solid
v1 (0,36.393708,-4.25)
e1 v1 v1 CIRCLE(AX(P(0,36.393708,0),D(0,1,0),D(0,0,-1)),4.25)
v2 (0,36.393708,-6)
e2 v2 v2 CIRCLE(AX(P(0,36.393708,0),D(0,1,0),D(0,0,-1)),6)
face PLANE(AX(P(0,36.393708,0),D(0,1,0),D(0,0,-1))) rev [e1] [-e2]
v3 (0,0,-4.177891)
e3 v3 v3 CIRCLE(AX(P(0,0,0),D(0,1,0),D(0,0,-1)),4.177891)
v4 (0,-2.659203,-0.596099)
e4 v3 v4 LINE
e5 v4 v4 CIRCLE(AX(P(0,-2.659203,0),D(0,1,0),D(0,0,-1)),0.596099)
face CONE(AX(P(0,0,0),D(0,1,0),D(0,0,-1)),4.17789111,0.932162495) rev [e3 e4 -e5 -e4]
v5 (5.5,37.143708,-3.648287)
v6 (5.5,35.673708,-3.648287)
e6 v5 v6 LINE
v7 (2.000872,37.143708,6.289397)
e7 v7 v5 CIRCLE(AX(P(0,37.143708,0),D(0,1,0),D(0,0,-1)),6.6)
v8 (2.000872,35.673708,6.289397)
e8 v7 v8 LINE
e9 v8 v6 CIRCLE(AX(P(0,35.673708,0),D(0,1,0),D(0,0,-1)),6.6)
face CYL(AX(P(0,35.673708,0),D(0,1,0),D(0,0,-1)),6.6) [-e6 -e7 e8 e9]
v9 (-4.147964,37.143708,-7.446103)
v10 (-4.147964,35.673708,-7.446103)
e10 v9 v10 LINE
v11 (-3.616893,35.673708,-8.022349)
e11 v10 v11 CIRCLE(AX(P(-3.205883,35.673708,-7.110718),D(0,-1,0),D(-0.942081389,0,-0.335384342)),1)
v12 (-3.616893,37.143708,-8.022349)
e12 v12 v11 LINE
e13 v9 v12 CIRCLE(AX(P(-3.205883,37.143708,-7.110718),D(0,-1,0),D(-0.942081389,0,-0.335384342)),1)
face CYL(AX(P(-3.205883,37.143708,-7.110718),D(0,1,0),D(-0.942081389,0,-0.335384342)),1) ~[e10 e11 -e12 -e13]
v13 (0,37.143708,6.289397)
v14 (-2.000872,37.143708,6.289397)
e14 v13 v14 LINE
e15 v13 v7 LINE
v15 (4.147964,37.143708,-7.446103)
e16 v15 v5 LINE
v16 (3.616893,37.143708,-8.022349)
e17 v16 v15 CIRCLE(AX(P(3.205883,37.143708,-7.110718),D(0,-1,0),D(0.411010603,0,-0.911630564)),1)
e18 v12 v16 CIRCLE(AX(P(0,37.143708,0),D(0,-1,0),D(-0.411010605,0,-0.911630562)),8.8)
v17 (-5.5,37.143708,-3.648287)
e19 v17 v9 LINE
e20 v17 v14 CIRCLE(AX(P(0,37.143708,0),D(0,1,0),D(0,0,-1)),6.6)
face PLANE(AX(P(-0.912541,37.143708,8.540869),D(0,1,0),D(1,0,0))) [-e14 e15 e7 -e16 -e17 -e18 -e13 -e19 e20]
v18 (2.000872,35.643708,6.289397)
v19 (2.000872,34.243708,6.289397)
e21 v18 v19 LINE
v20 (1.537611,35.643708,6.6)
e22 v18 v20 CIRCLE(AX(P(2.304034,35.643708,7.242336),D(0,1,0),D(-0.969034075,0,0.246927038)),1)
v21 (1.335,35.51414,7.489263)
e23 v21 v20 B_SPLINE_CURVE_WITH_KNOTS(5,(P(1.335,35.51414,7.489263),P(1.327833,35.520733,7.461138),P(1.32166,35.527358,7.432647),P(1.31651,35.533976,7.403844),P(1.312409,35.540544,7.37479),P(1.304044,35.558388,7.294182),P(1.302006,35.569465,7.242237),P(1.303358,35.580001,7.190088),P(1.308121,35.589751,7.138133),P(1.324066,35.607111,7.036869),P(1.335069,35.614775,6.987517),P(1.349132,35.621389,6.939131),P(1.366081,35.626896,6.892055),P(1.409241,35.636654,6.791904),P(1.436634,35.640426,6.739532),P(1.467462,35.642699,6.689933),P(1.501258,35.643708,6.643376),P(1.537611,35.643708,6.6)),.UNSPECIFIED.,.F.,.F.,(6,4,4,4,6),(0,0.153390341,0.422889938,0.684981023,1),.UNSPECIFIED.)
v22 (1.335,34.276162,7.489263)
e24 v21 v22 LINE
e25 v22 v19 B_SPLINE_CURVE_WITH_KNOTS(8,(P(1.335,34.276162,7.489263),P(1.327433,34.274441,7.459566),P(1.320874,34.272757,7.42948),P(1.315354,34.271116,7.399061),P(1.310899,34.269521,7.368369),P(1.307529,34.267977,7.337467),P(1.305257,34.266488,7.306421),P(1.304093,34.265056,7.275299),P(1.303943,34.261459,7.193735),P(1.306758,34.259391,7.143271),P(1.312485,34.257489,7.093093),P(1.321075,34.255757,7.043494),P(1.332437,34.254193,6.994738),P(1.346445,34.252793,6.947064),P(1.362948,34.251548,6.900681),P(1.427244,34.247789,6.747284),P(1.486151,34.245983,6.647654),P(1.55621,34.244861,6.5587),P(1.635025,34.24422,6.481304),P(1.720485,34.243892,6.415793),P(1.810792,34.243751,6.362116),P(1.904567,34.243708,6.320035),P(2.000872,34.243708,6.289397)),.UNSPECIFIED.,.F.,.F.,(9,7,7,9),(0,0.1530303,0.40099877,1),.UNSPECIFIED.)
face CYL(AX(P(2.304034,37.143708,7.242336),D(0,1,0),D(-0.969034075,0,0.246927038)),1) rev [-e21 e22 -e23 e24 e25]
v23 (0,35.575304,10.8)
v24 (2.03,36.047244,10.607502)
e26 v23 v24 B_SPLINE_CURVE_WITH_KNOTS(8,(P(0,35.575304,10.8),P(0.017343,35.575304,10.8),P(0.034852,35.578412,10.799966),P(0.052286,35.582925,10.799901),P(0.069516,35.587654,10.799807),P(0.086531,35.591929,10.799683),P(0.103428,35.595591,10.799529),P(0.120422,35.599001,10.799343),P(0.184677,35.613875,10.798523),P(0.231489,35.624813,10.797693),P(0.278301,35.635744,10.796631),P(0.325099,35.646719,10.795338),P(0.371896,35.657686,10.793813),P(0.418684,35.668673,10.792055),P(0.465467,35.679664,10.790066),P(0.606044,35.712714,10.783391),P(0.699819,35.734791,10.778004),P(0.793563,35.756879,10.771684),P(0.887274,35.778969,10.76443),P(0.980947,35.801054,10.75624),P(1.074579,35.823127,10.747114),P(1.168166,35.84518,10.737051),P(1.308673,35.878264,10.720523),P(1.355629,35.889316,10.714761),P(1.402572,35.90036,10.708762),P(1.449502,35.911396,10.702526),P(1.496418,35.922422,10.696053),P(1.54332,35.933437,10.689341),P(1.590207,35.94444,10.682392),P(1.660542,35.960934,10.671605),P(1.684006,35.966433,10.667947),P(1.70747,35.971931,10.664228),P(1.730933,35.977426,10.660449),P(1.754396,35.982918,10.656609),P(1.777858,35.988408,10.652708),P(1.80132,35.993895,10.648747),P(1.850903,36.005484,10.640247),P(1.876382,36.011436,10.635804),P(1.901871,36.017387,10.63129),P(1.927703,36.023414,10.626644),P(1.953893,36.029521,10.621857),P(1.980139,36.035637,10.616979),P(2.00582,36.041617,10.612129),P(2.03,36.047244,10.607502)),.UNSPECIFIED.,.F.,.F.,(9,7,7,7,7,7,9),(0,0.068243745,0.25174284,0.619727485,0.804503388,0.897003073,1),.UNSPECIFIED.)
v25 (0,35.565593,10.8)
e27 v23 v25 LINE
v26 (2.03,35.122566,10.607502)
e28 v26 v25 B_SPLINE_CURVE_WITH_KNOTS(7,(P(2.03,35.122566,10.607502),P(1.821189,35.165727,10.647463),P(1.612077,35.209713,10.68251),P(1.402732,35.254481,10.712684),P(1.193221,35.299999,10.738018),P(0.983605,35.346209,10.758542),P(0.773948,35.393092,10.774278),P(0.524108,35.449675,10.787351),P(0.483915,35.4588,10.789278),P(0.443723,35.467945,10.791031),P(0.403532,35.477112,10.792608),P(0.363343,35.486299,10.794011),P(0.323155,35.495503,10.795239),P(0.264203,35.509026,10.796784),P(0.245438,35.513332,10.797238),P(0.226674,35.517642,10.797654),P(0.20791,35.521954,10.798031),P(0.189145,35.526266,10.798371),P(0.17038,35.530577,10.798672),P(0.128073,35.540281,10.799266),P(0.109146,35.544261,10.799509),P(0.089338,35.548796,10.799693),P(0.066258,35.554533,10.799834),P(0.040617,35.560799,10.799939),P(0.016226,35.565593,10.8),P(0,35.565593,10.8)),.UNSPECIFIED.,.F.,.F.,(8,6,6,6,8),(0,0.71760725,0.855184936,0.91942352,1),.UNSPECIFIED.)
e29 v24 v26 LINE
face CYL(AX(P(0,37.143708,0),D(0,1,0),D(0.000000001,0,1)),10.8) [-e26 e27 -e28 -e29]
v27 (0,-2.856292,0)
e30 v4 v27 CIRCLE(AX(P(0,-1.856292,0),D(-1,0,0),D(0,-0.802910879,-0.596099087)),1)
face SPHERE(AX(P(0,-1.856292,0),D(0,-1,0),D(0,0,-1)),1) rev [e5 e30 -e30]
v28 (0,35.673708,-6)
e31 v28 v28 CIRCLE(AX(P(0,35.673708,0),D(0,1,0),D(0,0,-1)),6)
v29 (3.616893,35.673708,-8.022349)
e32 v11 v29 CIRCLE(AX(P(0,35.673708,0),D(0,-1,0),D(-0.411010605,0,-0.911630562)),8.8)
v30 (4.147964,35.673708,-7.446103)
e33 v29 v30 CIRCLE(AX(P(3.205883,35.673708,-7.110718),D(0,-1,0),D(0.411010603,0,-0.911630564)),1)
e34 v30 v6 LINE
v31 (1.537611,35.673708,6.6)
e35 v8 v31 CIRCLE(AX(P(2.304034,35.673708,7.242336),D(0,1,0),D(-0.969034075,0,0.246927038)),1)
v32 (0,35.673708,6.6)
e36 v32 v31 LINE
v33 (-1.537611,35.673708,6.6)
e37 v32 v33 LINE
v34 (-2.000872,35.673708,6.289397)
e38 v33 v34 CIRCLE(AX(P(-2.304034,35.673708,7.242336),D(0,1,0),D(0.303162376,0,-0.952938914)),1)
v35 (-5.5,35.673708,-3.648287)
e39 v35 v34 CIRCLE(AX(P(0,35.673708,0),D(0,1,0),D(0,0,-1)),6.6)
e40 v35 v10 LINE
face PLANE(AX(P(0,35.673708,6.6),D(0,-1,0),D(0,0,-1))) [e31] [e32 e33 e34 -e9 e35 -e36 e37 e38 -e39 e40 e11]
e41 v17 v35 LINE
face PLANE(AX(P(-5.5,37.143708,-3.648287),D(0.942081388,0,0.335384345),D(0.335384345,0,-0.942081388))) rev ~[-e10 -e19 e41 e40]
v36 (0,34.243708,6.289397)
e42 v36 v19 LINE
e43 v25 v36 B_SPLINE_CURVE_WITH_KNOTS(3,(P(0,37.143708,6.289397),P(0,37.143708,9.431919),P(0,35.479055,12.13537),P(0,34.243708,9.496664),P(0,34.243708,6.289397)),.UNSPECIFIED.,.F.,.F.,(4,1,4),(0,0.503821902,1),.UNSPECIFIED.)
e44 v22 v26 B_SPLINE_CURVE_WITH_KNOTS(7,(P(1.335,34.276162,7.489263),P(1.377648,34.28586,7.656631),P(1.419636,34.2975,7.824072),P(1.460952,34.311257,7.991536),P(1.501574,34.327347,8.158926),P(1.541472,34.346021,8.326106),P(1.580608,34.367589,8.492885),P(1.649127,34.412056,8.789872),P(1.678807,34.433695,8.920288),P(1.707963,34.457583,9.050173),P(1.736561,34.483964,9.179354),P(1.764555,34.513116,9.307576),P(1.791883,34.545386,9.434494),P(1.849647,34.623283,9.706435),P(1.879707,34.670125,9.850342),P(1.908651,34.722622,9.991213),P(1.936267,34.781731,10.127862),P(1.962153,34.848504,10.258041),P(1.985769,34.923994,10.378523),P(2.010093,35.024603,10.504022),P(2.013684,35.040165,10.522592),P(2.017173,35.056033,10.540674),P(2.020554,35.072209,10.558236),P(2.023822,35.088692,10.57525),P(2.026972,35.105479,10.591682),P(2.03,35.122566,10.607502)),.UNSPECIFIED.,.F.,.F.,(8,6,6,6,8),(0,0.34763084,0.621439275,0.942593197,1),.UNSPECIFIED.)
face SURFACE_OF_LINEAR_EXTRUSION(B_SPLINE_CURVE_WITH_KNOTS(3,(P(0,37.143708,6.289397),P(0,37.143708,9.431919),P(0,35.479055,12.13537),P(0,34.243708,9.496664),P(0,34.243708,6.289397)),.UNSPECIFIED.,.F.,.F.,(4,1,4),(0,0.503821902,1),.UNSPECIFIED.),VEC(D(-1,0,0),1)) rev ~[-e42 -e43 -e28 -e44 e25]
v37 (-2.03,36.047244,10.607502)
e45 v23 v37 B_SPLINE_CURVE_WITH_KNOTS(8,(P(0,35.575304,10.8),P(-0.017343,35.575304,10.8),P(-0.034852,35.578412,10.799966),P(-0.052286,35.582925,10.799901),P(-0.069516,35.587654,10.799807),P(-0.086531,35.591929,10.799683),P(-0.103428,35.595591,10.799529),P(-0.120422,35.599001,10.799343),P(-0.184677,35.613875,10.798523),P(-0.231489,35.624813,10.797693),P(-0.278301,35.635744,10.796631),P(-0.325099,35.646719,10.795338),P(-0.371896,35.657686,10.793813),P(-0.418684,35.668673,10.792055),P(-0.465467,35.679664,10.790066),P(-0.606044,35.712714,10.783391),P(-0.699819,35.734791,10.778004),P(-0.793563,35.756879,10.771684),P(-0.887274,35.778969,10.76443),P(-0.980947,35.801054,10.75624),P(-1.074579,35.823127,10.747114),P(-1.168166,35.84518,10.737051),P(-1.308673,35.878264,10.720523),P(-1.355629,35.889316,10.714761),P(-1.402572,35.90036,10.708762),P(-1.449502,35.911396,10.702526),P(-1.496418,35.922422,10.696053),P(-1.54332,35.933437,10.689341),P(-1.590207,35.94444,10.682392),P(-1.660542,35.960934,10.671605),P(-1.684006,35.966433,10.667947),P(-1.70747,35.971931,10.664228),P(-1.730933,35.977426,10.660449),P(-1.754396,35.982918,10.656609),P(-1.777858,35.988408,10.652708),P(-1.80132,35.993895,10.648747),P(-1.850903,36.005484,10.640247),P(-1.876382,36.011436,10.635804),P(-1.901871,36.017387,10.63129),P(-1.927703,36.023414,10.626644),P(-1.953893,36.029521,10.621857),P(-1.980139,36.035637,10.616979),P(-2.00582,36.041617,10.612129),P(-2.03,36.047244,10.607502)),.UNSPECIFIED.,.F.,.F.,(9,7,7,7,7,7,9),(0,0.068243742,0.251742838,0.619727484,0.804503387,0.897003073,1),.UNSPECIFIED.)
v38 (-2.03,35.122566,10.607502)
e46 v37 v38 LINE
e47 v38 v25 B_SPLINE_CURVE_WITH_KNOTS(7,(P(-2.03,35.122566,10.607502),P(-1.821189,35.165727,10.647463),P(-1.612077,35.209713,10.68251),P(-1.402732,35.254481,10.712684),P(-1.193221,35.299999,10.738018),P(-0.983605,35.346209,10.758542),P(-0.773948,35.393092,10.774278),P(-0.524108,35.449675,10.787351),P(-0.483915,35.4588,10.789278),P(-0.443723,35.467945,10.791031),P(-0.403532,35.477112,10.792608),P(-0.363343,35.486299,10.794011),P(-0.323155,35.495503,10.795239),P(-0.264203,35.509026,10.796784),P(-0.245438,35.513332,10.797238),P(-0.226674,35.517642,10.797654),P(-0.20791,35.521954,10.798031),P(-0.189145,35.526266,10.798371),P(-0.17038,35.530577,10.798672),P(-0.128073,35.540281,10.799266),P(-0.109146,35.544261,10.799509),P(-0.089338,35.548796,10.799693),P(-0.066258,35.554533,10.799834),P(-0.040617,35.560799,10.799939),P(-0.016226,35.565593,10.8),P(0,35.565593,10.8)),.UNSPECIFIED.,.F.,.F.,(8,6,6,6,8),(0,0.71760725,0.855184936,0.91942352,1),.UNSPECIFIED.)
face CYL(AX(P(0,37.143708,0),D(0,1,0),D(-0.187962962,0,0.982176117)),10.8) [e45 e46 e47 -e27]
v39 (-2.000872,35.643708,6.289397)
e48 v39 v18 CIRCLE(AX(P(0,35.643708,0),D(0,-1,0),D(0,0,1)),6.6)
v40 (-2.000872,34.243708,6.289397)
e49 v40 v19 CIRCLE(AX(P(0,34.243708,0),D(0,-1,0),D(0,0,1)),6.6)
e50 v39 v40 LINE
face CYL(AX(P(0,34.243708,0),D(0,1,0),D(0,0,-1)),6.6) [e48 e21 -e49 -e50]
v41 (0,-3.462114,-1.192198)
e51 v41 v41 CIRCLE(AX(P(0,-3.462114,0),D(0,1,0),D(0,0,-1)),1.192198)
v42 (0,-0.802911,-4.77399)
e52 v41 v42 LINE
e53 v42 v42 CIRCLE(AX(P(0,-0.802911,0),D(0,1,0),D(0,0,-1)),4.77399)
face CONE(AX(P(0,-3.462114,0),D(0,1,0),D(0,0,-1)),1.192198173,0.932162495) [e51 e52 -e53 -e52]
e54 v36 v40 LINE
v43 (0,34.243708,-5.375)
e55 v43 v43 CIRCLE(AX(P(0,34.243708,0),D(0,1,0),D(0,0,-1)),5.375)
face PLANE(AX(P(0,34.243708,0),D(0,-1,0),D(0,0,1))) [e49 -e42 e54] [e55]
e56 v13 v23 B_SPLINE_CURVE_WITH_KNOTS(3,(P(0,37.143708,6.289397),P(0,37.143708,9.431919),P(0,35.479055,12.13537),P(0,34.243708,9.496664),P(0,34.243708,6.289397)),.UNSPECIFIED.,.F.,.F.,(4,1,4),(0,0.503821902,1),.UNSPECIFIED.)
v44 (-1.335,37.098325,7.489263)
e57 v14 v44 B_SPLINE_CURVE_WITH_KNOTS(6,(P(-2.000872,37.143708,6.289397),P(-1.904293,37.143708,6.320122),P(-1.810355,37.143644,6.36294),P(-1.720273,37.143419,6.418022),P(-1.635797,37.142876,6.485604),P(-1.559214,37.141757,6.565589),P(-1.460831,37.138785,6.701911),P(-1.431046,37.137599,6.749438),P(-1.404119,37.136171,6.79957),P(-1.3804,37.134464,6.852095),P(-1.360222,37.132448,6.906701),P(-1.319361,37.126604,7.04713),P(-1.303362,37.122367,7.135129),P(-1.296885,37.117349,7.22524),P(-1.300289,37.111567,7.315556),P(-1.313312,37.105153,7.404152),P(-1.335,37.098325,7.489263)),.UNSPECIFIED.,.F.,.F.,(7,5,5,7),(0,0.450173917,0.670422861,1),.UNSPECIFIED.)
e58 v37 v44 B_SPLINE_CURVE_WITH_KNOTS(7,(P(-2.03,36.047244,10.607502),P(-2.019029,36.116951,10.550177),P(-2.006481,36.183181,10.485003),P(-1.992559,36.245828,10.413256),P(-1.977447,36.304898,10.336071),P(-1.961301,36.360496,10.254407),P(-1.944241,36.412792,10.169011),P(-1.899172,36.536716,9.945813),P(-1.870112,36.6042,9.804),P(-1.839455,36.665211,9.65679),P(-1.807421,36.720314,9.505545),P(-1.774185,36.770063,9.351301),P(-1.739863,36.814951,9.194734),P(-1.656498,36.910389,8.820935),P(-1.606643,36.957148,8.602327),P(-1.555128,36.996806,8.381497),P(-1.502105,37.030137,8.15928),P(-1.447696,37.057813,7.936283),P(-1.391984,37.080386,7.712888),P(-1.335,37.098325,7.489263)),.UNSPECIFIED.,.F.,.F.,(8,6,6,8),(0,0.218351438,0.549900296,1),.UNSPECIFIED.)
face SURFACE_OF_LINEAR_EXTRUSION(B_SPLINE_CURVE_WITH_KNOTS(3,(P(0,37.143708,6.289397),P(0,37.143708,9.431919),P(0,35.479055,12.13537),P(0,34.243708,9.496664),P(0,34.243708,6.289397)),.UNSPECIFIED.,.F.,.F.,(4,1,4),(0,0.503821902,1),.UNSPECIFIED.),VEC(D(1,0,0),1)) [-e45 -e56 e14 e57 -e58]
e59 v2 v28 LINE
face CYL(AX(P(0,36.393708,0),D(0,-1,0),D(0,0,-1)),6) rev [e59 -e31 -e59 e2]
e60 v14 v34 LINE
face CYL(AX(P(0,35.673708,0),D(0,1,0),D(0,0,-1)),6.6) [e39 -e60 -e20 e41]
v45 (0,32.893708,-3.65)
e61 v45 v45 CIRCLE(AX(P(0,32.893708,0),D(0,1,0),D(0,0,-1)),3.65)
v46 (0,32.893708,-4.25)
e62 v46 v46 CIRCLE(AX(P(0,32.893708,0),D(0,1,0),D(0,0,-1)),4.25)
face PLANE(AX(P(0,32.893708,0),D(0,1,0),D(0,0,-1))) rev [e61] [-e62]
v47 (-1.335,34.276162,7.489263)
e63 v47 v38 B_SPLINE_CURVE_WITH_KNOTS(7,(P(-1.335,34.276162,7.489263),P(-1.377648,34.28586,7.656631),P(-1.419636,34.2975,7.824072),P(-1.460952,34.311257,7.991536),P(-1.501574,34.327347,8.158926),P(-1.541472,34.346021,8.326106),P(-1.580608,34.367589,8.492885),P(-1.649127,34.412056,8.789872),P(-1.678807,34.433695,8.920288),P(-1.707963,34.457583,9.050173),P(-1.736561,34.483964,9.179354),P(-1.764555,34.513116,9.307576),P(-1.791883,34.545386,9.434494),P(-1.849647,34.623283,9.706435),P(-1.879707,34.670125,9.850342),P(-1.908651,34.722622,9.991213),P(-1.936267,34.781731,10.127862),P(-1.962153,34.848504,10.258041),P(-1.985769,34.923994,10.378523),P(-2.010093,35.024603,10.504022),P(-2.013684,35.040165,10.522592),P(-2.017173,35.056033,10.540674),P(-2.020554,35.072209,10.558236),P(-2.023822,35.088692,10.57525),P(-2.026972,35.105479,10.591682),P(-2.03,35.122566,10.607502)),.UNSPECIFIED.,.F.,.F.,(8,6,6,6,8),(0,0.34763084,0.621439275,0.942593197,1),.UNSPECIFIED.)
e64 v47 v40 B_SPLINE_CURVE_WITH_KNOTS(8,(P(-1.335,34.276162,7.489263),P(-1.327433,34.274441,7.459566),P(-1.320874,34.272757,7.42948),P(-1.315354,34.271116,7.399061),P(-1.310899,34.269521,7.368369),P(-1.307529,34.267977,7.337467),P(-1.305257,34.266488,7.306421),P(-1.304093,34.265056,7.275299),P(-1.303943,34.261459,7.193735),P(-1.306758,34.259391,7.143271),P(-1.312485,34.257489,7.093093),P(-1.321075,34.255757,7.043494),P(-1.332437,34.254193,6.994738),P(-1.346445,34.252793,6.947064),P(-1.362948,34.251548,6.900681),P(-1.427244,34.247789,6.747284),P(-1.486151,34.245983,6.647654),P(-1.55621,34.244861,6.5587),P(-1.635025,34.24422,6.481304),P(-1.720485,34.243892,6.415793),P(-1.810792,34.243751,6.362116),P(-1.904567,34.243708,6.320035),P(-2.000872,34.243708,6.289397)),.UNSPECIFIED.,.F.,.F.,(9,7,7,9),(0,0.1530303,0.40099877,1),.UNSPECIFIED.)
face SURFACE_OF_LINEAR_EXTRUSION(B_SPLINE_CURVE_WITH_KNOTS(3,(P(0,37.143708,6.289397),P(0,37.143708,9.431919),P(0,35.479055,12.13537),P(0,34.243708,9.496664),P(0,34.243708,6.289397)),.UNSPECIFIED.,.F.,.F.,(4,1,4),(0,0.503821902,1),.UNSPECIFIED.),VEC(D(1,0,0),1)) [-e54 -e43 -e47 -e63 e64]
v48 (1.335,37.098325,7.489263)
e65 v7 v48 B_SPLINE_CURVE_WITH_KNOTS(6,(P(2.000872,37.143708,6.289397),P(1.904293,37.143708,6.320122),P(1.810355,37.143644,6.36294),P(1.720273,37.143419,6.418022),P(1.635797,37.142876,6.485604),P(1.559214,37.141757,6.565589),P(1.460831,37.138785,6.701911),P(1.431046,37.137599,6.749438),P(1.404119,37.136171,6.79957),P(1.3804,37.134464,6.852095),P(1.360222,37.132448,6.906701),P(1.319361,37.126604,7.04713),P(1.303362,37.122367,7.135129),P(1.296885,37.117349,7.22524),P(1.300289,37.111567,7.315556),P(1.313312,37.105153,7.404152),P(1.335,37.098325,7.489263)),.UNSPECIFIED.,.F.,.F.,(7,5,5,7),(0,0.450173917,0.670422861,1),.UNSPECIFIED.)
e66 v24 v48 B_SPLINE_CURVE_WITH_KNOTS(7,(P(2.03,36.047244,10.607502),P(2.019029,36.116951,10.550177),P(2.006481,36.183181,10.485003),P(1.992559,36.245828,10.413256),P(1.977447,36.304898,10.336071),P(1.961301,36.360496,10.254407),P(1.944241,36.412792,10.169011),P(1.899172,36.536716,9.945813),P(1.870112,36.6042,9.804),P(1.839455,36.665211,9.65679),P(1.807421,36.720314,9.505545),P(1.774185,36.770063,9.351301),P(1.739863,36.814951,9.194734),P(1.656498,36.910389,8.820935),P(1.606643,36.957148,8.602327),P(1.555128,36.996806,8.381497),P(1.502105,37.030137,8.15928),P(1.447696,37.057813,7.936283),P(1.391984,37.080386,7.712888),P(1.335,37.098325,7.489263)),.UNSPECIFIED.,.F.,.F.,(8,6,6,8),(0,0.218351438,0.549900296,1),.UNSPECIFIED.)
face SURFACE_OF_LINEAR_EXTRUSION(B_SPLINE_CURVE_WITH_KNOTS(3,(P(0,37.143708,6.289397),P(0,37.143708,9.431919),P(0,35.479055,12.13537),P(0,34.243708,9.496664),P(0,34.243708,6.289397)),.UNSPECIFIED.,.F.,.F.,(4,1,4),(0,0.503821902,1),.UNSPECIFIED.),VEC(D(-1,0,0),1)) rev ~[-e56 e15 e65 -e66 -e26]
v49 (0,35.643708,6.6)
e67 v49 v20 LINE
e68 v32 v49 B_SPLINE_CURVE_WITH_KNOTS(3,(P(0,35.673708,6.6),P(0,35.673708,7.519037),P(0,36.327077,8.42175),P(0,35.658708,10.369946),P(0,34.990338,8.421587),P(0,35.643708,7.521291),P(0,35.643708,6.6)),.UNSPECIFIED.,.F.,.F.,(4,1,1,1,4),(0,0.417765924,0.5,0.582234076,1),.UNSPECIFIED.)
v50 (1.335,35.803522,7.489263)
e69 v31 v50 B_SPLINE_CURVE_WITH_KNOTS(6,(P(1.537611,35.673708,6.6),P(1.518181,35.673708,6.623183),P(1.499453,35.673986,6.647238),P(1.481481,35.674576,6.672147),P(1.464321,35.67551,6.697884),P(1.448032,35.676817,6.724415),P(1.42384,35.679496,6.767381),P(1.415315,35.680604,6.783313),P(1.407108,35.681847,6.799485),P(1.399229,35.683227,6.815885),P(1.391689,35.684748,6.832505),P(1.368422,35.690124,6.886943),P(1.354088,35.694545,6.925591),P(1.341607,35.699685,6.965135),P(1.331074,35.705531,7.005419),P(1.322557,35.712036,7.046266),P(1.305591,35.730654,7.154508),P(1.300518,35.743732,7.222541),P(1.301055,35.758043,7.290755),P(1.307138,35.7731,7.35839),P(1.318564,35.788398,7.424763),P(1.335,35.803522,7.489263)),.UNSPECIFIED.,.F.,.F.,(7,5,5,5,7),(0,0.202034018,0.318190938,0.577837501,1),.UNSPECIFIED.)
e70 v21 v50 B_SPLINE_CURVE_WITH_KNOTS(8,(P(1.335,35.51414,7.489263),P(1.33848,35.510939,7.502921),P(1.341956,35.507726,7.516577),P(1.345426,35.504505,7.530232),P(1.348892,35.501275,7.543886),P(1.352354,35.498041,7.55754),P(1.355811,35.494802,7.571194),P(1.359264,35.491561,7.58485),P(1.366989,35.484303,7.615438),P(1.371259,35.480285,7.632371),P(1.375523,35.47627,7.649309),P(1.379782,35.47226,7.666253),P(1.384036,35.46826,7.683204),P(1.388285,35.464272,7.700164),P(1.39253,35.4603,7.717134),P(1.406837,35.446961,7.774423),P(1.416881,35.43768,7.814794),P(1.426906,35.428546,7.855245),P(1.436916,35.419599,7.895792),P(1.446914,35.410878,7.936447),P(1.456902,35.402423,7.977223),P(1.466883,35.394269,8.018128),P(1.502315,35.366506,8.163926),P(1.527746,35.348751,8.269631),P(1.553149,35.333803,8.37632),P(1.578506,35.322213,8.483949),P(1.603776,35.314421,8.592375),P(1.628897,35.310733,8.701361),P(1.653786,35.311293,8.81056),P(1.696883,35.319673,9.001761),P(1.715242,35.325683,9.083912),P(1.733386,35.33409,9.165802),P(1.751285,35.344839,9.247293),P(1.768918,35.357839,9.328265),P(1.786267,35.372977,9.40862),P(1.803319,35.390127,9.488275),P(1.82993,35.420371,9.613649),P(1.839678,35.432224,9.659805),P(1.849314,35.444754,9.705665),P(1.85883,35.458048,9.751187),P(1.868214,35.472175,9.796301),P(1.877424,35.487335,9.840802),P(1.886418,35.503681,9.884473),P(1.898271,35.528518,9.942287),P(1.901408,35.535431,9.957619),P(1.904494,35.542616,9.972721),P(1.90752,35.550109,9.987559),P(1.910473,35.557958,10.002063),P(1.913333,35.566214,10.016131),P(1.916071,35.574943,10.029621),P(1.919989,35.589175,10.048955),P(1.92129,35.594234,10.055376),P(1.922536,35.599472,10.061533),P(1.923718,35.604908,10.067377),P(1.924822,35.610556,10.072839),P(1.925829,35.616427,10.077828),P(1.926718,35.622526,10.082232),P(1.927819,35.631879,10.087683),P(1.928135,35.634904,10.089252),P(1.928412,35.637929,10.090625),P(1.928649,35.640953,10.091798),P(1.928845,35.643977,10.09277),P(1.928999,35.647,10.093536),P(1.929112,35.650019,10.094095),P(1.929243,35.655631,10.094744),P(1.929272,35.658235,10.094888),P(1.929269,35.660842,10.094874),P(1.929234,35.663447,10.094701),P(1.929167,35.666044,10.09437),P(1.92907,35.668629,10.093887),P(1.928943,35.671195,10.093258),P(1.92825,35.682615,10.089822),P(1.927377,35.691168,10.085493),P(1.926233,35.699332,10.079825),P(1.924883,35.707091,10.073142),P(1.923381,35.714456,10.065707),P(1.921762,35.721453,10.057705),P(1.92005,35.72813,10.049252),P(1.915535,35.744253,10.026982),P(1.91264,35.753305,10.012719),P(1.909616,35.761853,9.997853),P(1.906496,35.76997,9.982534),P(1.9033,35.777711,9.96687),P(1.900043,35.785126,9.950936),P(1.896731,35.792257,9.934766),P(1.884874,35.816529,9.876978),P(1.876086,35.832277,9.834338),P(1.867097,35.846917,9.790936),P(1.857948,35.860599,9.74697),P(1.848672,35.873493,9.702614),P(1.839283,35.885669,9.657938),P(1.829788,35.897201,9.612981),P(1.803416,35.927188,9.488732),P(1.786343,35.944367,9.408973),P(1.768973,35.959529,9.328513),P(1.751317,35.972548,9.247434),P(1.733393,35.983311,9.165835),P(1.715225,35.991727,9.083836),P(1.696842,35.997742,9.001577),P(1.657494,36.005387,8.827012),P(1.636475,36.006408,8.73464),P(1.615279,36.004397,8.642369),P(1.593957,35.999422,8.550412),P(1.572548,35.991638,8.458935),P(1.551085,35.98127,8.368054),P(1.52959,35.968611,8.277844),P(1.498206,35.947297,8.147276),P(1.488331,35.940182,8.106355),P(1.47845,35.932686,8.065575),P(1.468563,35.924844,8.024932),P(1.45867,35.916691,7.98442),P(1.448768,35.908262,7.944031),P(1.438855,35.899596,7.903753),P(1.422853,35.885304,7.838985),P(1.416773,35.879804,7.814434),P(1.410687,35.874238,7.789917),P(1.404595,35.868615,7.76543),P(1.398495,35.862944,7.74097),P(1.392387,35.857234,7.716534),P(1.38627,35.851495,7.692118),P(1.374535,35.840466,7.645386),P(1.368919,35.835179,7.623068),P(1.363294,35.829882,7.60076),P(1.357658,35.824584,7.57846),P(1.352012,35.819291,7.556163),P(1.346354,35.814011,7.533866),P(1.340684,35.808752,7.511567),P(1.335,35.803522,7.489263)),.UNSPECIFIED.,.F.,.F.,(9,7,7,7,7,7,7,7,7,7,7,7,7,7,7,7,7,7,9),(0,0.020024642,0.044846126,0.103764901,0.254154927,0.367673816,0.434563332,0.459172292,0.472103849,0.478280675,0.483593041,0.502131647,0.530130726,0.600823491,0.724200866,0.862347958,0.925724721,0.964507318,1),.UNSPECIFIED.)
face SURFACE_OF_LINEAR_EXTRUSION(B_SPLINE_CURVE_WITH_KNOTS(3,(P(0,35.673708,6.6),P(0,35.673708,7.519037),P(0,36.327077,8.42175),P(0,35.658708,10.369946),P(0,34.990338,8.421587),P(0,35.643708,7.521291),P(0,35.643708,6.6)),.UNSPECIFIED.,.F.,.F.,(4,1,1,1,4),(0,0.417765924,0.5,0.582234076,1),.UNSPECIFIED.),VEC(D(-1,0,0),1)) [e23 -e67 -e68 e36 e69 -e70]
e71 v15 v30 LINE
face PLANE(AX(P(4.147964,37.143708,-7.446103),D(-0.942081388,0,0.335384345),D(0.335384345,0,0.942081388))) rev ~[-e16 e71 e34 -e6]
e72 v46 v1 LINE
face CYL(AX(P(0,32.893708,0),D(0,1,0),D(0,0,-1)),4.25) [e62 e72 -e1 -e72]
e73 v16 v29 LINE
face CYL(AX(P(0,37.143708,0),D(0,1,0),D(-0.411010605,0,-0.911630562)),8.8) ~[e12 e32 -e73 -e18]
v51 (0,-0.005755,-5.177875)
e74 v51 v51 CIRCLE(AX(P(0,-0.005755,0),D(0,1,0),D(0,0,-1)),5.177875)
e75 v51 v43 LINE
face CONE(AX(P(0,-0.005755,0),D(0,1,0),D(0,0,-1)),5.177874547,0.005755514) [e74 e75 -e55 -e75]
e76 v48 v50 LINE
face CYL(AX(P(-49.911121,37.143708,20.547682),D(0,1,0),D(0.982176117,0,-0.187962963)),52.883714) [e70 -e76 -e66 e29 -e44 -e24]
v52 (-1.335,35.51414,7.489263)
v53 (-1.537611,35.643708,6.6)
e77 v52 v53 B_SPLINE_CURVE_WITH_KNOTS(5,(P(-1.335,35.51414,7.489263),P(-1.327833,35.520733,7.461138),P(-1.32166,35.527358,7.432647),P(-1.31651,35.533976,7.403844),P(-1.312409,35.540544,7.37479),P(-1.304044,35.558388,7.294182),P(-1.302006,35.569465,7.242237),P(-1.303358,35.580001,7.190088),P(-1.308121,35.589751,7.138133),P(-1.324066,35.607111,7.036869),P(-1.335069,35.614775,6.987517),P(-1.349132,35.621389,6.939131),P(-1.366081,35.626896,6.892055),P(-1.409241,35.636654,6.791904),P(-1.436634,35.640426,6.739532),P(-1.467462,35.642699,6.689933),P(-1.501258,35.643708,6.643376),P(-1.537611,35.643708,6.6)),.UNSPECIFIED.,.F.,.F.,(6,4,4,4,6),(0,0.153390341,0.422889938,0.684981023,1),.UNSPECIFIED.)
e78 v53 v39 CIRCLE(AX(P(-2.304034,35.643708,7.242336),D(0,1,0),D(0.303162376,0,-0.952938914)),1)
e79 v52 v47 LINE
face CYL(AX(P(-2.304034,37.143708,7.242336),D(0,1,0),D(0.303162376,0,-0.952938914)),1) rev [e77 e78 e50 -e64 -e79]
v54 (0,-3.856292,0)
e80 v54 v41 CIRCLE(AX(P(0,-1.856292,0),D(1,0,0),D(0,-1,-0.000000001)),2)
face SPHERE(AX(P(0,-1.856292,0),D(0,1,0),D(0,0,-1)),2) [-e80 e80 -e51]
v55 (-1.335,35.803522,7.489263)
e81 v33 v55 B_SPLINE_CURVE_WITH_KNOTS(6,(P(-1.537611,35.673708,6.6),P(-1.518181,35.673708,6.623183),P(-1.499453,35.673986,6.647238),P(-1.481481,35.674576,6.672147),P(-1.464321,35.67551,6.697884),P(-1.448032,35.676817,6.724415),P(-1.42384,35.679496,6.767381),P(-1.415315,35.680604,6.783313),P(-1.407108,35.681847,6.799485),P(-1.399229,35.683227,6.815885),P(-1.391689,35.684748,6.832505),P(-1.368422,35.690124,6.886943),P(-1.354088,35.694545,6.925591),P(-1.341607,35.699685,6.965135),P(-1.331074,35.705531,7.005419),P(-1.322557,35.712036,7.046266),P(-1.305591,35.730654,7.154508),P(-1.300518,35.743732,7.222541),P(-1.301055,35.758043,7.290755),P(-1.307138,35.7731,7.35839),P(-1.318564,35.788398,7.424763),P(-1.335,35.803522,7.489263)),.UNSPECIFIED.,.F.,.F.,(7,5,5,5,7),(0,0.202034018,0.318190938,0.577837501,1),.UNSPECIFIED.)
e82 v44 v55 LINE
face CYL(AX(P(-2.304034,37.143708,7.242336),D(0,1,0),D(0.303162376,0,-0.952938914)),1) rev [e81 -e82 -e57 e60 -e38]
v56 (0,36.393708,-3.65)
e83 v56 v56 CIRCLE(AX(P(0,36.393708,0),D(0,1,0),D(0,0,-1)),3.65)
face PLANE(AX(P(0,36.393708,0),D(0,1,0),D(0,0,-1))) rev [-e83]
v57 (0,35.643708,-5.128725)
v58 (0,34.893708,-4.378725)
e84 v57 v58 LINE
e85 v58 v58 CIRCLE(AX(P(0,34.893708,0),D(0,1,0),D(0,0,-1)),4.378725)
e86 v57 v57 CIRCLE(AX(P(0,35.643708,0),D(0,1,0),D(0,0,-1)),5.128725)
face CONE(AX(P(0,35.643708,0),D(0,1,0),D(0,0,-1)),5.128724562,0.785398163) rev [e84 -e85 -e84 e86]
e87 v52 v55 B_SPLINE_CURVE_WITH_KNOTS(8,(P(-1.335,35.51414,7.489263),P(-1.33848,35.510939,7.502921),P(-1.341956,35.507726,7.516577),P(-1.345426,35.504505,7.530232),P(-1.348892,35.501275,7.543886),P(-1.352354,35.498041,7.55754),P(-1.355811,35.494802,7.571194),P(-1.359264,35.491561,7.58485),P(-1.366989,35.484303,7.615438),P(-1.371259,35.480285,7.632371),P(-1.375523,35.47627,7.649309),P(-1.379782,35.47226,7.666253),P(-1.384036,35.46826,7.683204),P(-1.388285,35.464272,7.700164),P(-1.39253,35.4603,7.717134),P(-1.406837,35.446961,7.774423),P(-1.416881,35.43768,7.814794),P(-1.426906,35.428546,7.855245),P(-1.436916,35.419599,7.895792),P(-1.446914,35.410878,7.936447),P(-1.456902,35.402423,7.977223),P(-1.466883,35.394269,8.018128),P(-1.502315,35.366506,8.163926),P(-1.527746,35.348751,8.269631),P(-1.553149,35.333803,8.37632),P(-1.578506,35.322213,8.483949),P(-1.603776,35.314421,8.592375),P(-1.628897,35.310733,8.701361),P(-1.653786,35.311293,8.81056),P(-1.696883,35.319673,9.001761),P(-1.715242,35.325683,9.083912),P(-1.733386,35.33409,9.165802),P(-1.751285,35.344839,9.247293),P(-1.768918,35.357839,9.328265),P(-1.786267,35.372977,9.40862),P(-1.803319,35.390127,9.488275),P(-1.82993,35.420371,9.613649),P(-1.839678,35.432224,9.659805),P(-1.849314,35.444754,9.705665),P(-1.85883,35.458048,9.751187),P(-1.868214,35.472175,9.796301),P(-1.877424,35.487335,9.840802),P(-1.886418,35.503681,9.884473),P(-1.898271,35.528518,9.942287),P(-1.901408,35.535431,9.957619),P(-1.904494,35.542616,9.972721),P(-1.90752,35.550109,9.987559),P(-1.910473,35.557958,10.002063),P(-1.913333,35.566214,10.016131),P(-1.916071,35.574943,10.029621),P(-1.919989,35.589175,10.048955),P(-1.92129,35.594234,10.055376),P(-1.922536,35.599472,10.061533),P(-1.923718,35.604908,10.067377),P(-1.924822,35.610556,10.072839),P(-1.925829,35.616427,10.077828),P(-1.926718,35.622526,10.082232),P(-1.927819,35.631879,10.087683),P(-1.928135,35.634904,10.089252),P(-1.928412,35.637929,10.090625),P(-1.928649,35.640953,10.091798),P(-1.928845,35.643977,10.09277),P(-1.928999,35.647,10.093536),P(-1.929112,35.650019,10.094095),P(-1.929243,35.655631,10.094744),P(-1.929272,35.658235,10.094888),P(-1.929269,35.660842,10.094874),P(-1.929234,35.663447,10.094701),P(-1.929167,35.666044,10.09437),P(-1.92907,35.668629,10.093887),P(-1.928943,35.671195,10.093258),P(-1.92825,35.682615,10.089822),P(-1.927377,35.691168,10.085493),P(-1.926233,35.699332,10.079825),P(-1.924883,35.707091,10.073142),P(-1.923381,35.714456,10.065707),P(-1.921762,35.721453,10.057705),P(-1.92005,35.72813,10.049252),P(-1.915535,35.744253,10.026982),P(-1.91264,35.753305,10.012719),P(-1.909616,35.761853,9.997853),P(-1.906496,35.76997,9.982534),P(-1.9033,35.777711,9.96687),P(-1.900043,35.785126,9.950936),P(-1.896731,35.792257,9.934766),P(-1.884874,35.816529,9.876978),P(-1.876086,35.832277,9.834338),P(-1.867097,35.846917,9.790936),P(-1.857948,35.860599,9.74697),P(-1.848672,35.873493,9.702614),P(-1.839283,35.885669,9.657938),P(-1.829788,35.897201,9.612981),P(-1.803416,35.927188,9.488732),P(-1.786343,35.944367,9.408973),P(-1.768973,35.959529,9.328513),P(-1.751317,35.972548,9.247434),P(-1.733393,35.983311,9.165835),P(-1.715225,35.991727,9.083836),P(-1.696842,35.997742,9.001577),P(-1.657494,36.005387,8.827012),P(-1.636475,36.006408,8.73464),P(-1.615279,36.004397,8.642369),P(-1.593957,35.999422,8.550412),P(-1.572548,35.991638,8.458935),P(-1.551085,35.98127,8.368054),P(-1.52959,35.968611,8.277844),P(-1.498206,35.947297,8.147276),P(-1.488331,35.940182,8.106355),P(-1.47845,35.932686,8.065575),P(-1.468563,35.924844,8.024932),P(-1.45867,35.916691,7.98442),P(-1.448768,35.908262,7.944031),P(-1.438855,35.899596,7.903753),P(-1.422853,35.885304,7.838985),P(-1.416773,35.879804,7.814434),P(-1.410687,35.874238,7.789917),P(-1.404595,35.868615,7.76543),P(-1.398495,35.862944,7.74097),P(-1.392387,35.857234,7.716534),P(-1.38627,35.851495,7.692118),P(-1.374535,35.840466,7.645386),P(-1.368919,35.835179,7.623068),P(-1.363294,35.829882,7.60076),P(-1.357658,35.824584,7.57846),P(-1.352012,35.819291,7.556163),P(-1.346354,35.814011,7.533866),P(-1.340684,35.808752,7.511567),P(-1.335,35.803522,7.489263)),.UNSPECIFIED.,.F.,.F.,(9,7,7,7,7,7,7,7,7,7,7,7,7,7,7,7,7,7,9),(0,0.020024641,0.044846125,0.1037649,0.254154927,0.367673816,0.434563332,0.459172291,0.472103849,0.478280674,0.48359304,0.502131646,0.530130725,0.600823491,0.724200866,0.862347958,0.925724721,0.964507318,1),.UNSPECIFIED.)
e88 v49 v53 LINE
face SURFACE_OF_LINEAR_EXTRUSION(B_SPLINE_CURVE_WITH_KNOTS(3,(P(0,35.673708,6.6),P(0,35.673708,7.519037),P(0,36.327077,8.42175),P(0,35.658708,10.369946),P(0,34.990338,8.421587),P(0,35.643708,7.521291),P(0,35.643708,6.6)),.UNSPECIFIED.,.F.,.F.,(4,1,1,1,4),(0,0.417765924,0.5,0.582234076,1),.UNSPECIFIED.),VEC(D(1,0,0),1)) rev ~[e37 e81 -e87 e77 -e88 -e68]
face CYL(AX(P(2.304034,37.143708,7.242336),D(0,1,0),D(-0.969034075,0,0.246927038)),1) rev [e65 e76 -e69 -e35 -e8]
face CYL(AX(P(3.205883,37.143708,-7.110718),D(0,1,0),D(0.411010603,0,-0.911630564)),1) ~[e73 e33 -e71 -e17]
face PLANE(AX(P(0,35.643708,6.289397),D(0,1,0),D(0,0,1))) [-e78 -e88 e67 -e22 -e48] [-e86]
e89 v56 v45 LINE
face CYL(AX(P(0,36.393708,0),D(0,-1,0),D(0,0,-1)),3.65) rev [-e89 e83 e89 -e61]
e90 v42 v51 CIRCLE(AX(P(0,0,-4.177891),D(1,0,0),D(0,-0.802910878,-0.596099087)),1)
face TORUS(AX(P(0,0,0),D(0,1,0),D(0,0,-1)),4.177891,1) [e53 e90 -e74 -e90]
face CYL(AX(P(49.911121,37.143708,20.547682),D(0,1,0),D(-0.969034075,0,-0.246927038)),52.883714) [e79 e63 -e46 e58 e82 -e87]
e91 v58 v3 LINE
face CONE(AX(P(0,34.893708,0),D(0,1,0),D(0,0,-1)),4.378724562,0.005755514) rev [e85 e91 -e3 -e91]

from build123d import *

# Parameters (mm, degrees)
BOSS_EXTRUDE1_DEPTH     = 1.47
BOSS_EXTRUDE2_REACH     = 44.45
CUT_EXTRUDE1_DEPTH      = 40.240986748
CUT_EXTRUDE1_DEPTH_BACK = 40.240986748


with BuildPart() as part:
    # Sketch1 → Revolve1 (revolve)
    with BuildSketch(Plane.XY, mode=Mode.PRIVATE) as revolve1_sk:
        with BuildLine():
            Line((1.192198173, -3.462113799), (4.773990196, -0.802910879))
            ThreePointArc((4.773990196, -0.802910879), (5.069930367, -0.451957922), (5.177874547, -0.005755483))
            Line((5.177874547, -0.005755483), (5.375, 34.243707959))
            Line((5.375, 34.243707959), (6.6, 34.243707959))
            Line((6.6, 34.243707959), (6.6, 35.643707959))
            Line((6.6, 35.643707959), (5.128724562, 35.643707959))
            Line((5.128724562, 35.643707959), (4.378724562, 34.893707959))
            Line((4.378724562, 34.893707959), (4.17789111, 0))
            Line((4.17789111, 0), (0.596099086, -2.65920292))
            ThreePointArc((0.596099086, -2.65920292), (0.31391808, -2.805742113), (0, -2.856292041))
            Line((0, -2.856292041), (0, -3.856292041))
            ThreePointArc((0, -3.856292041), (0.627836159, -3.755192185), (1.192198173, -3.462113799))
        make_face()
        Polygon((4.25, 32.893707959), (4.25, 36.393707959), (6, 36.393707959), (6, 35.673707959), (6.6, 35.673707959), (6.6, 36.140431751), (6.6, 37.143707959), (0, 37.143707959), (0, 36.393707959), (3.65, 36.393707959), (3.65, 32.893707959), align=None)
    revolve(revolve1_sk.sketch.rotate(Axis((0, 0, 0), (0, 1, 0)), 90), axis=Axis((0, 0, 0), (0, 1, 0)))

    # Sketch2 → Boss-Extrude1 (add)
    with BuildSketch(Plane(origin=(0, 37.143707959, 0), x_dir=(1, 0, 0), z_dir=(0, 1, 0))):
        with BuildLine():
            Line((-5.5, 3.648287269), (-4.147964107, 7.446102732))
            ThreePointArc((-4.147964107, 7.446102732), (-3.941225776, 7.788413444), (-3.616893324, 8.02234895))
            ThreePointArc((-3.616893324, 8.02234895), (0, 8.8), (3.616893324, 8.02234895))
            ThreePointArc((3.616893324, 8.02234895), (3.941225776, 7.788413444), (4.147964107, 7.446102732))
            Line((4.147964107, 7.446102732), (5.5, 3.648287269))
            ThreePointArc((5.5, 3.648287269), (0, 6.6), (-5.5, 3.648287269))
        make_face()
    extrude(amount=-BOSS_EXTRUDE1_DEPTH)

    # Boss-Extrude2: up to this face of the body (flat: up to its plane)
    boss_extrude2_end = Plane(part.part.faces().sort_by_distance((0, 34.243707959, 5.56167619))[0])
    # Sketch3 → Boss-Extrude2 (add, up to the picked face)
    with BuildSketch(Plane(origin=(0, 37.143707959, 0), x_dir=(1, 0, 0), z_dir=(0, 1, 0)), mode=Mode.PRIVATE) as boss_extrude2_sk1:
        with BuildLine():
            Line((0, -6.6), (0, -10.8))
            ThreePointArc((0, -10.8), (1.019553267, -10.751767814), (2.03, -10.607502062))
            ThreePointArc((2.03, -10.607502062), (1.706052324, -9.043133027), (1.335, -7.489262778))
            ThreePointArc((1.335, -7.489262778), (1.429653992, -6.757094078), (2.000871697, -6.289396828))
            ThreePointArc((2.000871697, -6.289396828), (1.01241813, -6.521886961), (0, -6.6))
        make_face()
    boss_extrude2_tool1 = split(extrude(boss_extrude2_sk1.sketch, amount=-BOSS_EXTRUDE2_REACH, mode=Mode.PRIVATE), bisect_by=boss_extrude2_end, keep=Keep.BOTH, mode=Mode.PRIVATE)
    # Sketch3 → Boss-Extrude2 (add, up to the picked face)
    with BuildSketch(Plane(origin=(0, 37.143707959, 0), x_dir=(1, 0, 0), z_dir=(0, 1, 0)), mode=Mode.PRIVATE) as boss_extrude2_sk2:
        with BuildLine():
            ThreePointArc((-2.03, -10.607502062), (-1.019553267, -10.751767814), (0, -10.8))
            Line((0, -10.8), (0, -6.6))
            ThreePointArc((0, -6.6), (-1.01241813, -6.521886961), (-2.000871697, -6.289396828))
            ThreePointArc((-2.000871697, -6.289396828), (-1.429653992, -6.757094078), (-1.335, -7.489262778))
            ThreePointArc((-1.335, -7.489262778), (-1.706052324, -9.043133027), (-2.03, -10.607502062))
        make_face()
    boss_extrude2_tool2 = split(extrude(boss_extrude2_sk2.sketch, amount=-BOSS_EXTRUDE2_REACH, mode=Mode.PRIVATE), bisect_by=boss_extrude2_end, keep=Keep.BOTH, mode=Mode.PRIVATE)
    add(boss_extrude2_tool1.solids().sort_by(Axis((0.832919, 37.143708, 8.79495), (0, -1, 0)))[0])
    add(boss_extrude2_tool2.solids().sort_by(Axis((-0.832919, 37.143708, 8.79495), (0, -1, 0)))[0])

    # Sketch5 → Cut-Extrude1 (cut, two sides)
    with BuildSketch(Plane(origin=(0, 0, 0), x_dir=(0, 0, -1), z_dir=(1, 0, 0))) as cut_extrude1_sk:
        with BuildLine():
            Line((-6.289396828, 35.643707959), (-6.6, 35.643707959))
            add(Edge.make_bspline(
                [(-6.6, 35.673707959), (-7.519037203, 35.673707959), (-8.421750075, 36.327077496), (-10.369945566, 35.658707959), (-8.421586809, 34.990338421), (-7.521291173, 35.643707959), (-6.6, 35.643707959)],
                knots=[0, 0, 0, 0, 0.417765924, 0.5, 0.582234076, 1, 1, 1, 1], degree=3))
            Line((-6.6, 35.673707959), (-6.289396828, 35.673707959))
            Line((-6.289396828, 35.673707959), (-6.289396828, 35.643707959))
        make_face()
        with BuildLine():
            Line((-6.289396828, 34.243707959), (-6.289396828, 33.533396672))
            Line((-6.289396828, 33.533396672), (-11.467394827, 33.825492735))
            Line((-11.467394827, 33.825492735), (-11.357937817, 38.544473635))
            Line((-11.357937817, 38.544473635), (-6.289396828, 38.035452095))
            Line((-6.289396828, 38.035452095), (-6.289396828, 37.143707959))
            add(Edge.make_bspline(
                [(-6.289396828, 37.143707959), (-9.431918588, 37.143707959), (-12.135369897, 35.479054802), (-9.496663947, 34.243707959), (-6.289396828, 34.243707959)],
                knots=[0, 0, 0, 0, 0.503821902, 1, 1, 1, 1], degree=3))
        make_face()
    extrude(amount=CUT_EXTRUDE1_DEPTH, mode=Mode.SUBTRACT)
    extrude(cut_extrude1_sk.sketch, amount=-CUT_EXTRUDE1_DEPTH_BACK, mode=Mode.SUBTRACT)


solid = part.part
